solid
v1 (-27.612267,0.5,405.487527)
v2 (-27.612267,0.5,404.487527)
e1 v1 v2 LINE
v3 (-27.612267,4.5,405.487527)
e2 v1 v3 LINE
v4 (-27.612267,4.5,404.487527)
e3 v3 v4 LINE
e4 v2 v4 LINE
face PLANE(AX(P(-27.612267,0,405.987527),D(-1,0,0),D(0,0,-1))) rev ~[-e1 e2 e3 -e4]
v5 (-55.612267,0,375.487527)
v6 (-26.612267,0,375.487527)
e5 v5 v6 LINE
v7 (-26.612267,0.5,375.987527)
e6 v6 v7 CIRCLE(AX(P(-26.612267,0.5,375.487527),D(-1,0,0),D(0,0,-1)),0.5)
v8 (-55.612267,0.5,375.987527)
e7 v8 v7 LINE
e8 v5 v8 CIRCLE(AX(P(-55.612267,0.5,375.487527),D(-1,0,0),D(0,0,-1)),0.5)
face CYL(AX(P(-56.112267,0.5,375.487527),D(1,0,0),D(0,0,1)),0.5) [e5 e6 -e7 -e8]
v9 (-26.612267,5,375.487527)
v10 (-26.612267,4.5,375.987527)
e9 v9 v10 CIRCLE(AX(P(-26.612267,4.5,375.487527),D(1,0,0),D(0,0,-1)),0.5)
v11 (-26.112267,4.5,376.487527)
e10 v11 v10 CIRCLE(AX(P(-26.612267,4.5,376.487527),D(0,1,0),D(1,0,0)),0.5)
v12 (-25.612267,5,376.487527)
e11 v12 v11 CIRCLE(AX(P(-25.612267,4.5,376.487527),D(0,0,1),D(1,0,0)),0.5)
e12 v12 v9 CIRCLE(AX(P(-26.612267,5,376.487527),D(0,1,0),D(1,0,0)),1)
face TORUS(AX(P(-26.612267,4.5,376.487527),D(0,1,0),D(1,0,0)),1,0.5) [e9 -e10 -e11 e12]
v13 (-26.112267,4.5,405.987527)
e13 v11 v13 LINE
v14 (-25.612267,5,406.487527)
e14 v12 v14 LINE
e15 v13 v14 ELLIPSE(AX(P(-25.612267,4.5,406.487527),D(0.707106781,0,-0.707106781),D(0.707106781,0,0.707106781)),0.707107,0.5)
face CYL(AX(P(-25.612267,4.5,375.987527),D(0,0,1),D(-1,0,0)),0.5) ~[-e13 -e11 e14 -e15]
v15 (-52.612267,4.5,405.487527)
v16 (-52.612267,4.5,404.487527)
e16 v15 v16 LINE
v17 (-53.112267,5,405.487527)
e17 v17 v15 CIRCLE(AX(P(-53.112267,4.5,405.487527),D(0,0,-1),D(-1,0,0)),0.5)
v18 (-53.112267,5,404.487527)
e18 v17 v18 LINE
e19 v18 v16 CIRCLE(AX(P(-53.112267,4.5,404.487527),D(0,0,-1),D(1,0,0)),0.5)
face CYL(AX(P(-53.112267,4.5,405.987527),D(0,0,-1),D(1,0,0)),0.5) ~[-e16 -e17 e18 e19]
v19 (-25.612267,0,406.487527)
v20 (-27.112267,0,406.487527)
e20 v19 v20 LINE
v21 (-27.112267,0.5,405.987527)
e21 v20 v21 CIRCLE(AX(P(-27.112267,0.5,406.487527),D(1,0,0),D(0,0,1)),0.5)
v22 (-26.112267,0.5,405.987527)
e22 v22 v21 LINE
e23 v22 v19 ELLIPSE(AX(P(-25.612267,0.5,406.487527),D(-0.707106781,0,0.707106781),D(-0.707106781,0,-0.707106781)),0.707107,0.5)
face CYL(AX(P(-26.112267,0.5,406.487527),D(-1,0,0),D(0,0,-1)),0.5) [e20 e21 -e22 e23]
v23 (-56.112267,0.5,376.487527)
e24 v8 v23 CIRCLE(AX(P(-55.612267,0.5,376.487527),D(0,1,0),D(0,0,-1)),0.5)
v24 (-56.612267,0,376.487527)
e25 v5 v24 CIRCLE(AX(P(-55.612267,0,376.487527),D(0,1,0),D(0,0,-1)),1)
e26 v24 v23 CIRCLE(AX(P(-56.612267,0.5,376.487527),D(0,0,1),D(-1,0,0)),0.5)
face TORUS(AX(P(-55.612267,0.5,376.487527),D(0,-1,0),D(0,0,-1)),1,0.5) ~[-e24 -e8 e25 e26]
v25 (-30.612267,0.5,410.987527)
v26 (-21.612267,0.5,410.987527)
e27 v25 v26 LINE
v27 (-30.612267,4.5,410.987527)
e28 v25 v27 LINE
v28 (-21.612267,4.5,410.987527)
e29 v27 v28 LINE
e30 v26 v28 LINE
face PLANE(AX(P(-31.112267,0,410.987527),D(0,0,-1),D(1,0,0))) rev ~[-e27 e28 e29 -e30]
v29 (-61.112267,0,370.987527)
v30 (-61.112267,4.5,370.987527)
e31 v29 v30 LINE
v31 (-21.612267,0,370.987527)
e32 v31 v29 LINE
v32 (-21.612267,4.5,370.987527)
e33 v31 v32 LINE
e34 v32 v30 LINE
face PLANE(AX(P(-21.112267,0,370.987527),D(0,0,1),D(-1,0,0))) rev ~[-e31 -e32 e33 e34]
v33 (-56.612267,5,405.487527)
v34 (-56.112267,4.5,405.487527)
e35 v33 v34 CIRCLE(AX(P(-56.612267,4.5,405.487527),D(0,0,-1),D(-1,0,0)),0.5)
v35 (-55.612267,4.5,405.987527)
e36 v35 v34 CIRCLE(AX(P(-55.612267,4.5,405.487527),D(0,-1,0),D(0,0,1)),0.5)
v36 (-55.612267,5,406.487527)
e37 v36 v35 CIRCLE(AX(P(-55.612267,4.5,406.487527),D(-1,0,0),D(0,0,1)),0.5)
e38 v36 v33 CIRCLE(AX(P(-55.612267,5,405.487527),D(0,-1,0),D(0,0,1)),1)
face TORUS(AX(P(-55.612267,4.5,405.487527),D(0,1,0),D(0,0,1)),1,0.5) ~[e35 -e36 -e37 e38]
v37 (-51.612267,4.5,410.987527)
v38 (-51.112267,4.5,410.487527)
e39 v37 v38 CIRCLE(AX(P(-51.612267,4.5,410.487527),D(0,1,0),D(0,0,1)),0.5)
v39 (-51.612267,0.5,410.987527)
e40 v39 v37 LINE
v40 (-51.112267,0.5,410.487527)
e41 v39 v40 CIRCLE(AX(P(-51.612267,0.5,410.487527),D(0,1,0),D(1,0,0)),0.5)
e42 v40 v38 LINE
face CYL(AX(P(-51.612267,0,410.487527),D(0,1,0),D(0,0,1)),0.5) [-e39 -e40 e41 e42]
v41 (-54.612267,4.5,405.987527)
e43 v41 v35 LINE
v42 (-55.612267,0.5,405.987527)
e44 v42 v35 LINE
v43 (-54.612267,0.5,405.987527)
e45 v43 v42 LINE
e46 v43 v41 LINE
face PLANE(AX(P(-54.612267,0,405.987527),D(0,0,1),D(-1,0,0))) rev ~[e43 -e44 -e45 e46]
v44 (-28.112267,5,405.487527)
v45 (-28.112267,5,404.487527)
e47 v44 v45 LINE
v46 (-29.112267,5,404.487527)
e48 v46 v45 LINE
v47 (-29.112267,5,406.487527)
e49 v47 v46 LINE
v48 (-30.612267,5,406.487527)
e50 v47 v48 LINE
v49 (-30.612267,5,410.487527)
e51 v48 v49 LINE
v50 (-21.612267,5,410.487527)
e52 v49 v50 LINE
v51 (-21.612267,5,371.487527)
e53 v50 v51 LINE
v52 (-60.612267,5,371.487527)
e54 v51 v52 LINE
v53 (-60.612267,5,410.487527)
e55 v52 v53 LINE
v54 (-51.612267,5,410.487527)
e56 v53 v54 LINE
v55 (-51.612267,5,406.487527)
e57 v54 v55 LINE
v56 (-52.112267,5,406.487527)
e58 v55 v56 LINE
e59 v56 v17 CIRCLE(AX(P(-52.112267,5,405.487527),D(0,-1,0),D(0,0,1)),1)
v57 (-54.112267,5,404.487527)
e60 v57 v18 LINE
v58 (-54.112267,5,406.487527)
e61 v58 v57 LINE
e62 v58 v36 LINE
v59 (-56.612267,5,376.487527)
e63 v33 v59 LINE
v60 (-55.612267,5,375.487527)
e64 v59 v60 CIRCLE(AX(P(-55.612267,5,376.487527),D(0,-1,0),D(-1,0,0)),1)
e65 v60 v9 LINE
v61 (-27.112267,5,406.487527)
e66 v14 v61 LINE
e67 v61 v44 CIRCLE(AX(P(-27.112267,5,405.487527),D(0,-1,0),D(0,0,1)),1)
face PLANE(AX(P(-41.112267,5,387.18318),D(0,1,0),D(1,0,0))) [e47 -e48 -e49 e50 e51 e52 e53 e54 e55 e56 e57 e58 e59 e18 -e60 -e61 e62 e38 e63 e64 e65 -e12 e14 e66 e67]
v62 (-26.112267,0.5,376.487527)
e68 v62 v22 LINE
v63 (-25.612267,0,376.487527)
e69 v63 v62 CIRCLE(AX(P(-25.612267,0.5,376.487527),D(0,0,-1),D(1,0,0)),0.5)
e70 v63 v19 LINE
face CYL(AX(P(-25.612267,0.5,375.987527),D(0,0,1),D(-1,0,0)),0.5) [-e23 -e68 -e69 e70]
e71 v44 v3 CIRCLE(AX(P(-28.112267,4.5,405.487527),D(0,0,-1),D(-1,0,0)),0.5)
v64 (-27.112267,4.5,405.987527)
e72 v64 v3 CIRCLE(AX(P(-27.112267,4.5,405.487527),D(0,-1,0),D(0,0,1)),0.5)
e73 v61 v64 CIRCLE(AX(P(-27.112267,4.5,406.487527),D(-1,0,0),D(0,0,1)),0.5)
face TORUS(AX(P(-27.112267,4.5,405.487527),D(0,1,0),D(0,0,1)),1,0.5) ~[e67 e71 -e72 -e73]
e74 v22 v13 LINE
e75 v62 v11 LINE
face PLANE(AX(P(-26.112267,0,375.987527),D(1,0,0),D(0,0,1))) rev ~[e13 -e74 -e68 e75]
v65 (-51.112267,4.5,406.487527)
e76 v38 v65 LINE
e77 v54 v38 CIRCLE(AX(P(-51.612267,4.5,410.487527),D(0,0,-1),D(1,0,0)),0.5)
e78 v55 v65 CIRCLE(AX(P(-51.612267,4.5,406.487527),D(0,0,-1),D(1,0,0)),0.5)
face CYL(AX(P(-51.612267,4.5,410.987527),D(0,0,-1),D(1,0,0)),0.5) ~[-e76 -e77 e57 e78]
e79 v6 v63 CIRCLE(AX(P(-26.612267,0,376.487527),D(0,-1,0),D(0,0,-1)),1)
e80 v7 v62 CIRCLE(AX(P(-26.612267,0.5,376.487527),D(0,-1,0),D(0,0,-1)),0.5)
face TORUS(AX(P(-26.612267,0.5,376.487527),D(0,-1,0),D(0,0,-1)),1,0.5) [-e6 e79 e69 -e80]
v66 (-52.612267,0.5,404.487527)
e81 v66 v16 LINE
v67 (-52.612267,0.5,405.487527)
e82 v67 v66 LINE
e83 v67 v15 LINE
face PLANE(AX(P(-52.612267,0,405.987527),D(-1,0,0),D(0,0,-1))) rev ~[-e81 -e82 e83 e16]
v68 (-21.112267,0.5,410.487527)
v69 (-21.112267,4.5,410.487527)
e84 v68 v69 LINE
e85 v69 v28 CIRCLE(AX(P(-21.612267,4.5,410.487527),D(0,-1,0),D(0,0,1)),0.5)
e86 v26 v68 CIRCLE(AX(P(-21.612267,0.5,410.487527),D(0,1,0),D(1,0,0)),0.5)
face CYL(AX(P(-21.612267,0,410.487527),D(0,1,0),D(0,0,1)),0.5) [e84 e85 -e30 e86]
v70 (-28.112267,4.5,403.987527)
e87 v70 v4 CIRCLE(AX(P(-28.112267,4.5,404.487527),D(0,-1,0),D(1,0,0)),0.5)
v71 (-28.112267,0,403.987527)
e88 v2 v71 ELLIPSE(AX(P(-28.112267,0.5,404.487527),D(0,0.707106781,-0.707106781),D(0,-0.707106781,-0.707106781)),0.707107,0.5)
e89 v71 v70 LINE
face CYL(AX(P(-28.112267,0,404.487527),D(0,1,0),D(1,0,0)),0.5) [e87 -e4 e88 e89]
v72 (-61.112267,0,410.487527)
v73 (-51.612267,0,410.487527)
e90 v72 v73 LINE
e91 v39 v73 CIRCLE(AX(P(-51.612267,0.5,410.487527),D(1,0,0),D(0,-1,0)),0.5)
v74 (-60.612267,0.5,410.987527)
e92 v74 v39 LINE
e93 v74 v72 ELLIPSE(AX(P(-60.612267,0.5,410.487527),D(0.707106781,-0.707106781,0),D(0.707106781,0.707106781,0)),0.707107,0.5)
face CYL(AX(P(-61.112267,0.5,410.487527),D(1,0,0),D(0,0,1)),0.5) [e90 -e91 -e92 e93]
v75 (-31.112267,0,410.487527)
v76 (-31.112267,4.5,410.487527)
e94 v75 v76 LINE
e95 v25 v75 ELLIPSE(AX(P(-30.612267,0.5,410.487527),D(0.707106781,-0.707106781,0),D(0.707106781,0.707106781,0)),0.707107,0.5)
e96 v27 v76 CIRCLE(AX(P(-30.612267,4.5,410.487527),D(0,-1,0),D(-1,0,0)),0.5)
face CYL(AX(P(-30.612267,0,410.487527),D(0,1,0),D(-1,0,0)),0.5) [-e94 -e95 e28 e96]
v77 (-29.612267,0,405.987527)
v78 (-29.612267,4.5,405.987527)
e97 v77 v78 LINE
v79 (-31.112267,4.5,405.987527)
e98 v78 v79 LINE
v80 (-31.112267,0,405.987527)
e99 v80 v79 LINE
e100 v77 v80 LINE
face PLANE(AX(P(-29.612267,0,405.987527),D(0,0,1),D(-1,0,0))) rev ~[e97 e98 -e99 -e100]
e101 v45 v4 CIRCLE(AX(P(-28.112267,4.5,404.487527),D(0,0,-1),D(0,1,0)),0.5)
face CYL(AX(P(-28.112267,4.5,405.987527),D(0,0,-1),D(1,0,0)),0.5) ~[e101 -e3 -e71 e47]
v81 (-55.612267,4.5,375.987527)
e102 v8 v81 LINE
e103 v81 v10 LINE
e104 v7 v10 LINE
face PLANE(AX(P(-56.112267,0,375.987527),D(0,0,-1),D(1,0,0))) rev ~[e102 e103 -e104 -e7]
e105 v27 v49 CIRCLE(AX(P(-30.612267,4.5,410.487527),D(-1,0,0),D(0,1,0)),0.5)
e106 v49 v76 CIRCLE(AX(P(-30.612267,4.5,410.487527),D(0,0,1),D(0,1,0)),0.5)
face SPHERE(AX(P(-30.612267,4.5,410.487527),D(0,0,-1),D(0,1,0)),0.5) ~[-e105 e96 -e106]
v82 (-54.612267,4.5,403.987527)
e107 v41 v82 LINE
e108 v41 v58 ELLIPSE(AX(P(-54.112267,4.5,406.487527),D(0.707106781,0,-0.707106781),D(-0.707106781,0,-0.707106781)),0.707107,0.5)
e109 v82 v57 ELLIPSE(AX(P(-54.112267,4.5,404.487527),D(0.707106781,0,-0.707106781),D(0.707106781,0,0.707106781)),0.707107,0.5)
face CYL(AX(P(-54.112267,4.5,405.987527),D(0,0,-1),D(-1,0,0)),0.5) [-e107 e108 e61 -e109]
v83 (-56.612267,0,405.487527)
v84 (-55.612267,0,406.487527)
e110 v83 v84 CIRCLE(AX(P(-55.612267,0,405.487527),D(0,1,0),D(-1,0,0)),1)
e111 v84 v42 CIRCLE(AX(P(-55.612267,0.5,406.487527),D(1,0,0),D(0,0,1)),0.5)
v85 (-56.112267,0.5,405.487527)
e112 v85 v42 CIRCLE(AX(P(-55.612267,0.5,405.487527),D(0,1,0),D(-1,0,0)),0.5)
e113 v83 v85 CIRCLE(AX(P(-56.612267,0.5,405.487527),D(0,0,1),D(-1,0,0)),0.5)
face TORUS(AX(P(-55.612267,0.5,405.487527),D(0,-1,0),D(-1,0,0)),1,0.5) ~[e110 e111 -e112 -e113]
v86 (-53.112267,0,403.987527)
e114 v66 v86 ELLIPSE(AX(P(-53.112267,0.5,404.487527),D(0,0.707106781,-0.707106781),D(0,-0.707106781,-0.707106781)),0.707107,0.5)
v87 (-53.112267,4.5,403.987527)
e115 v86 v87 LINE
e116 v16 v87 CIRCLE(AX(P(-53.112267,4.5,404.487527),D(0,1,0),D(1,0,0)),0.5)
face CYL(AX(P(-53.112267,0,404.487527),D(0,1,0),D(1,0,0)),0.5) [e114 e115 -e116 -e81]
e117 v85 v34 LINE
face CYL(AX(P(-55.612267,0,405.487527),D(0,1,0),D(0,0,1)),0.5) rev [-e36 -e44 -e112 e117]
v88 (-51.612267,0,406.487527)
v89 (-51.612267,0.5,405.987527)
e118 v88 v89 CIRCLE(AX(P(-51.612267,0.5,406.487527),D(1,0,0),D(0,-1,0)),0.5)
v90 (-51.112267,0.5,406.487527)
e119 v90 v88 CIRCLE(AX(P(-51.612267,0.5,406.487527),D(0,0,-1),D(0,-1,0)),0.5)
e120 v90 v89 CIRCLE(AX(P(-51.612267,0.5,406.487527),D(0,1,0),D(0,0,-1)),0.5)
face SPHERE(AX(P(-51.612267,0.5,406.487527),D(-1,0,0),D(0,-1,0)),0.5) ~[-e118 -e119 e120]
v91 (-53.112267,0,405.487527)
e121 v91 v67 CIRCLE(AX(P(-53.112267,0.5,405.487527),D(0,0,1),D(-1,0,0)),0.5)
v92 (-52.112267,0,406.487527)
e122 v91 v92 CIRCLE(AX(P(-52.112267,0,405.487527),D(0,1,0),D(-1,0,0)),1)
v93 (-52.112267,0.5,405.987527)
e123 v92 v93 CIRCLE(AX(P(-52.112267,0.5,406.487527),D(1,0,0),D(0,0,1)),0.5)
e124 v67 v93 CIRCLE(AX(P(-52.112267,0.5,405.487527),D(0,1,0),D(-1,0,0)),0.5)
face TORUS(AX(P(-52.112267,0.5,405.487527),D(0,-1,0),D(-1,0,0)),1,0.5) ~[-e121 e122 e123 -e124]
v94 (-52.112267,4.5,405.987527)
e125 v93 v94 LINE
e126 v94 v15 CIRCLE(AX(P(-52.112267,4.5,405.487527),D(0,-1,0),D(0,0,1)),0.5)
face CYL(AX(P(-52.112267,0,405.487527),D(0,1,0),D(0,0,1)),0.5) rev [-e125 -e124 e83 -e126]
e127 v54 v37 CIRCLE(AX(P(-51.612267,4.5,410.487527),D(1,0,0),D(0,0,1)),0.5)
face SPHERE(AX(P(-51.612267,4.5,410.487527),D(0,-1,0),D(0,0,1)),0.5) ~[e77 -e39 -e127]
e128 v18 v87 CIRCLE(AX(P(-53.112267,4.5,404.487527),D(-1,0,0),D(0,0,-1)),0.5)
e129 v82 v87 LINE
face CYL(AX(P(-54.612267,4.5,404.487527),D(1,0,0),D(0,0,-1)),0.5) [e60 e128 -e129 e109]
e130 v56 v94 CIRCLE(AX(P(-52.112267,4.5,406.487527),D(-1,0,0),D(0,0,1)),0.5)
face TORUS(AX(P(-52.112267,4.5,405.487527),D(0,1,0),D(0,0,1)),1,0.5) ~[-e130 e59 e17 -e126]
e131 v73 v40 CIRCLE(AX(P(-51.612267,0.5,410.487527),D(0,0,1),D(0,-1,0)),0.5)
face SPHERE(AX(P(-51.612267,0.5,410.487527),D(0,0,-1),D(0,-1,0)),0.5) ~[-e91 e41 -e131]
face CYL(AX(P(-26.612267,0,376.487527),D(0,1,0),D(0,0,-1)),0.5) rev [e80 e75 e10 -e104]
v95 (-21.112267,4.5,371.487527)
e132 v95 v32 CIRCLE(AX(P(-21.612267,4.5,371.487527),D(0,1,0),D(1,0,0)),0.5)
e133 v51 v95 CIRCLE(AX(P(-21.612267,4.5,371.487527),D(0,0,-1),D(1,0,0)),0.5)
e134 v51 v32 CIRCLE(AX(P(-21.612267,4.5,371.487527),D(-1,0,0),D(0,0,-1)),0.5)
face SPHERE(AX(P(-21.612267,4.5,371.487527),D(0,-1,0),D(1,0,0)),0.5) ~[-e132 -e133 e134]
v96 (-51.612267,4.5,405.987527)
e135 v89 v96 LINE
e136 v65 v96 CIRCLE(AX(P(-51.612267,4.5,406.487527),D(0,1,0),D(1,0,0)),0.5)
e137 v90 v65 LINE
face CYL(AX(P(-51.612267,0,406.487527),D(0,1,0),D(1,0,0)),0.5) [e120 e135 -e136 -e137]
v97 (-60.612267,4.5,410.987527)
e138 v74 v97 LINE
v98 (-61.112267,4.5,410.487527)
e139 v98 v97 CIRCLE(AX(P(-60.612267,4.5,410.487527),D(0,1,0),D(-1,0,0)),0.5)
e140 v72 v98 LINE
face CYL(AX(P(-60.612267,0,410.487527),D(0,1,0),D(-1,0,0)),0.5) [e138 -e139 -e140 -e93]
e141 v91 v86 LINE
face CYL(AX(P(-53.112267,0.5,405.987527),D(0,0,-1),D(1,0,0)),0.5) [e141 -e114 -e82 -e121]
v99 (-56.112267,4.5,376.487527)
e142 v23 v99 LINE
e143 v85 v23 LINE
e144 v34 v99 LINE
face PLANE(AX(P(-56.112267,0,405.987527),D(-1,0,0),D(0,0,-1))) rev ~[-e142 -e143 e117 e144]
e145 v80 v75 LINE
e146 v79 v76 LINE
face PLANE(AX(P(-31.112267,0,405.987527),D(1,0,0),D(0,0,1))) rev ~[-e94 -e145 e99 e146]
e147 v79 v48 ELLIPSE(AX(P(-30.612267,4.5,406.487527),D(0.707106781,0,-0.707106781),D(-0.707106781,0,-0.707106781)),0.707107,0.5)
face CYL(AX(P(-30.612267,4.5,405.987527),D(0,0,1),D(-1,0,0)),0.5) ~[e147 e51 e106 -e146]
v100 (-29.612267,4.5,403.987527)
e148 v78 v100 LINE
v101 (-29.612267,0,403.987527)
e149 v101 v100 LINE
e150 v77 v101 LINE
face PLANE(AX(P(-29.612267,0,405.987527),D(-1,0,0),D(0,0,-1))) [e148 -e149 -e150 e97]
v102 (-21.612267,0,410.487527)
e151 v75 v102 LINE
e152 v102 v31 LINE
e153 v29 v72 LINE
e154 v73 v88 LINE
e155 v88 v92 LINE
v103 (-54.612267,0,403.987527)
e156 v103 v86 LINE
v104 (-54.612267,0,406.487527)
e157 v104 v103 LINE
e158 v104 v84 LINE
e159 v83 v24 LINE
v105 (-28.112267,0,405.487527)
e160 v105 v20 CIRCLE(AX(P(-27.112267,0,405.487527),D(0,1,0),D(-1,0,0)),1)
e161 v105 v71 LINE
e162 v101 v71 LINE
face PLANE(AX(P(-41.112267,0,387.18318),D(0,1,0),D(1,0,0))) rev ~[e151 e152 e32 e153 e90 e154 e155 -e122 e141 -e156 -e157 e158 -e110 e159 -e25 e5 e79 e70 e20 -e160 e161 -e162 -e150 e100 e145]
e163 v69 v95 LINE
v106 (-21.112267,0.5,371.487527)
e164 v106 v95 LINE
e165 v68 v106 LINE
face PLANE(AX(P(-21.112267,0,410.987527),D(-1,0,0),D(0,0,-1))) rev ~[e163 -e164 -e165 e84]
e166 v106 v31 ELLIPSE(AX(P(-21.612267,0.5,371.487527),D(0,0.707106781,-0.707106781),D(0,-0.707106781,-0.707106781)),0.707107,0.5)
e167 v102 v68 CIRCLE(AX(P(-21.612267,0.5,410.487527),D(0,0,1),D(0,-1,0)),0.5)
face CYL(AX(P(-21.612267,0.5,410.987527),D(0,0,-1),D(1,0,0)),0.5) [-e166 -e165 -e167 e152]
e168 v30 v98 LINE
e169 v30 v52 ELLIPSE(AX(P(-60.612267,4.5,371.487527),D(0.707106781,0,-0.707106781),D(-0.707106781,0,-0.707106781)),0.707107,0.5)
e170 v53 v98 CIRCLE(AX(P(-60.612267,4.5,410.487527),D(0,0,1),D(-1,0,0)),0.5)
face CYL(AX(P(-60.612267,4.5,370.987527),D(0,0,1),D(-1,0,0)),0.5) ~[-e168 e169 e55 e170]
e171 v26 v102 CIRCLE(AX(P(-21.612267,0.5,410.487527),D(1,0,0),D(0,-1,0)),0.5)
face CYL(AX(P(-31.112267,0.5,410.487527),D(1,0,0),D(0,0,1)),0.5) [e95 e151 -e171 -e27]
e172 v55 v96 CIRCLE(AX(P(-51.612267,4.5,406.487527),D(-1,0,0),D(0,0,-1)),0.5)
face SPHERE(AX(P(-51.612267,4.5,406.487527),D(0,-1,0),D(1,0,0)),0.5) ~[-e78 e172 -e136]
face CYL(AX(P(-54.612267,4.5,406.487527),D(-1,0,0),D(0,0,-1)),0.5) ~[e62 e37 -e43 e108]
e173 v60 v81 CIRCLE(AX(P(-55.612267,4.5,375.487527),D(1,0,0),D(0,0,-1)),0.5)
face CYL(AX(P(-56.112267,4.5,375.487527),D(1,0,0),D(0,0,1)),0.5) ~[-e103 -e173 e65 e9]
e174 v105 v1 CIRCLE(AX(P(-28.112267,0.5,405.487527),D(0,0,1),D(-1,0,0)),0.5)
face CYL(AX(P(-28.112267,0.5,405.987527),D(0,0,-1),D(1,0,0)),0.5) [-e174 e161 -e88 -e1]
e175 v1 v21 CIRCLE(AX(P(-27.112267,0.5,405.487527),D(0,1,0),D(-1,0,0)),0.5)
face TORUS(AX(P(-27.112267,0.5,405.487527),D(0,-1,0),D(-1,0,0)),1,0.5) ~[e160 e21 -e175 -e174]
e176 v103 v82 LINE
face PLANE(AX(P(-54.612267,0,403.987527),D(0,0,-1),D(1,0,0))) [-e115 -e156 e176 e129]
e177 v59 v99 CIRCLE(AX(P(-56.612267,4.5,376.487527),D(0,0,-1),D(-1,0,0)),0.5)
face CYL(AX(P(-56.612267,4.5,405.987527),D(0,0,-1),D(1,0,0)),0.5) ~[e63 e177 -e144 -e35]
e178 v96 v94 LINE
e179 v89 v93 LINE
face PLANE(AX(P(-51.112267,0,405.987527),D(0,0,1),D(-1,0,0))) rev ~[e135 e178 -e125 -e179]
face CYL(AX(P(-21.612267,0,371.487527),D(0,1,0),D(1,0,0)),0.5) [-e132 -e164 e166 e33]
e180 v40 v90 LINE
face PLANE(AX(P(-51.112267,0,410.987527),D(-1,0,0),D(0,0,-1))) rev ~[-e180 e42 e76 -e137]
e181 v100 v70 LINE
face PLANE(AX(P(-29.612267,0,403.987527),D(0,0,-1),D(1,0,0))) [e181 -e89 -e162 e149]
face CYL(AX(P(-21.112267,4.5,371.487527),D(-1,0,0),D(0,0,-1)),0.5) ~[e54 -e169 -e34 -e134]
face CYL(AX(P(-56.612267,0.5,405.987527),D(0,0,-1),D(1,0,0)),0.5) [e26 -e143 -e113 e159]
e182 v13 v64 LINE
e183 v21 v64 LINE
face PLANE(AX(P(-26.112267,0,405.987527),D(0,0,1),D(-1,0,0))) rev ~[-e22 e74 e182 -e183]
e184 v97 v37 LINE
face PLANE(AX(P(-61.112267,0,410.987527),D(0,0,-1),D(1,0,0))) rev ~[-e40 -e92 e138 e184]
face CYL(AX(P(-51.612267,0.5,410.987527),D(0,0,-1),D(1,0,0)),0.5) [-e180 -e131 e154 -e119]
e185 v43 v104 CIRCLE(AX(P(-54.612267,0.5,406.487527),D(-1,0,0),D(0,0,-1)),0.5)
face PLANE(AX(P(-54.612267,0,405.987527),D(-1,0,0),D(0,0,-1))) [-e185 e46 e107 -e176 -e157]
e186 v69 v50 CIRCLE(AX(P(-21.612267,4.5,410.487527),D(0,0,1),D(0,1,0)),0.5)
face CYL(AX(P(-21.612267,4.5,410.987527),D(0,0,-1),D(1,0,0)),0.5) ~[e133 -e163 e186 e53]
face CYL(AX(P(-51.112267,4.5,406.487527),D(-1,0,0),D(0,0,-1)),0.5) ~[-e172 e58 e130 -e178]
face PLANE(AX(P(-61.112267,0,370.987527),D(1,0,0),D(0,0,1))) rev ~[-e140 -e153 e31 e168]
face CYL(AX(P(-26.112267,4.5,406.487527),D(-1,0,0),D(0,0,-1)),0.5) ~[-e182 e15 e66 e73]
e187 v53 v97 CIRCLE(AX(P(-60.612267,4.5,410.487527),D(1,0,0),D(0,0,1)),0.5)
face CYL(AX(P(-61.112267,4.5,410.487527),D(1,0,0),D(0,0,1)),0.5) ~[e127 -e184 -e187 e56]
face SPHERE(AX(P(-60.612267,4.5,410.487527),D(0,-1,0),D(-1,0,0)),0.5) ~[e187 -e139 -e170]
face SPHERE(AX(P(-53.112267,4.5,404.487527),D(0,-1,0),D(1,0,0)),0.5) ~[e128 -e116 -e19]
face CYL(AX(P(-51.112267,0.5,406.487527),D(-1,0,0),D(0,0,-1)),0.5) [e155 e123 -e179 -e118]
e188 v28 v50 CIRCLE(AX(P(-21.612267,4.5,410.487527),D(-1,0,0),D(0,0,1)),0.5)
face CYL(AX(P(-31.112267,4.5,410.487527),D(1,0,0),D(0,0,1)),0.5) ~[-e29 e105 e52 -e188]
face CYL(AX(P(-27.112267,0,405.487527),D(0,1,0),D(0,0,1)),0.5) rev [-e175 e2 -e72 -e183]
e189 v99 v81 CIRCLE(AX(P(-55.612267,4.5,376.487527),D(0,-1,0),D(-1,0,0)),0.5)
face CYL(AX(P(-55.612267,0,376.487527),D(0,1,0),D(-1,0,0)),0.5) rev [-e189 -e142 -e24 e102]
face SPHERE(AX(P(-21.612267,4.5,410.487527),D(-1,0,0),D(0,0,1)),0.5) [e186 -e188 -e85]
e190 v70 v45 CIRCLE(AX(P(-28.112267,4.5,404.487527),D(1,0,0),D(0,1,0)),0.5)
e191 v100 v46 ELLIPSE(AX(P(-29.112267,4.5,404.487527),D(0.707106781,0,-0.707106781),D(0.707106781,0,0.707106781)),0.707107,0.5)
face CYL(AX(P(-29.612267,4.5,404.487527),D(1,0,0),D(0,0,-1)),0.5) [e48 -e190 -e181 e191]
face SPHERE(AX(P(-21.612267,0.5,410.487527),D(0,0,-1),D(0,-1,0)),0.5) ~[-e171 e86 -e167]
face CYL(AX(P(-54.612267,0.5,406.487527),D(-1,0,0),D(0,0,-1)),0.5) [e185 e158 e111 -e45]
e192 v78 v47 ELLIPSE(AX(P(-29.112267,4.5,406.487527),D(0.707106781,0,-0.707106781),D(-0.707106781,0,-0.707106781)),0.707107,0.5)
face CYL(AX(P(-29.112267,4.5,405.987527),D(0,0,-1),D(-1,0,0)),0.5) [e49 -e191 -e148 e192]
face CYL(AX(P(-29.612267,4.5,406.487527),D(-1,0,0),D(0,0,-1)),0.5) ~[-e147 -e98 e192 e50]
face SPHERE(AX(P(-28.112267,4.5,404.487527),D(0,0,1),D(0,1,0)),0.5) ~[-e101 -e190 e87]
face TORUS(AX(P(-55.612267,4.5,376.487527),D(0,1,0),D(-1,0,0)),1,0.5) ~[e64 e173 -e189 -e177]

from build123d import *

# Parameters (mm, degrees)
SKETCH1_W           = 2
SKETCH1_H           = 2
BOSS_EXTRUDE1_DEPTH = 5
FILLET1_R           = 0.5


with BuildPart() as part:
    # Sketch1 → Boss-Extrude1 (new body)
    with BuildSketch(Plane(origin=(0, 0, 0), x_dir=(1, 0, 0), z_dir=(0, 1, 0))):
        Polygon((-53.419958922, -370.98752745), (-61.112267161, -370.98752745), (-61.112267161, -380.152018312), (-61.112267161, -410.98752745), (-56.112267161, -410.98752745), (-56.112267161, -405.98752745), (-56.112267161, -375.98752745), (-26.112267161, -375.98752745), (-26.112267161, -405.98752745), (-26.112267161, -410.98752745), (-21.112267161, -410.98752745), (-21.112267161, -380.152018312), (-21.112267161, -370.98752745), align=None)
        Polygon((-56.112267161, -405.98752745), (-56.112267161, -410.98752745), (-51.112267161, -410.98752745), (-51.112267161, -405.98752745), (-52.612267161, -405.98752745), (-54.612267161, -405.98752745), align=None)
        Polygon((-31.112267161, -410.98752745), (-26.112267161, -410.98752745), (-26.112267161, -405.98752745), (-27.612267161, -405.98752745), (-29.612267161, -405.98752745), (-31.112267161, -405.98752745), align=None)
        with Locations((-53.612267161, -404.98752745)):
            Rectangle(SKETCH1_W, SKETCH1_H)
        with Locations((-28.612267161, -404.98752745)):
            Rectangle(SKETCH1_W, SKETCH1_H)
    extrude(amount=BOSS_EXTRUDE1_DEPTH)

    # Fillet1
    fillet1_edges = [part.edges().sort_by_distance(p)[0] for p in [
        (-27.612267161, 5, 404.98752745),
        (-28.612267161, 5, 403.98752745),
        (-41.112267161, 0, 375.98752745),
        (-56.112267161, 0, 390.98752745),
        (-55.362267161, 0, 405.98752745),
        (-29.612267161, 5, 404.98752745),
        (-52.612267161, 0, 404.98752745),
        (-51.862267161, 0, 405.98752745),
        (-51.112267161, 0, 408.48752745),
        (-56.112267161, 0, 410.98752745),
        (-30.362267161, 5, 405.98752745),
        (-21.112267161, 0, 390.98752745),
        (-26.112267161, 0, 410.98752745),
        (-31.112267161, 5, 408.48752745),
        (-27.612267161, 0, 404.98752745),
        (-26.862267161, 0, 405.98752745),
        (-26.112267161, 0, 390.98752745),
        (-26.112267161, 5, 410.98752745),
        (-26.112267161, 2.5, 375.98752745),
        (-56.112267161, 2.5, 375.98752745),
        (-56.112267161, 2.5, 405.98752745),
        (-52.612267161, 2.5, 403.98752745),
        (-52.612267161, 2.5, 405.98752745),
        (-51.112267161, 2.5, 405.98752745),
        (-51.112267161, 2.5, 410.98752745),
        (-61.112267161, 2.5, 410.98752745),
        (-21.112267161, 2.5, 370.98752745),
        (-21.112267161, 2.5, 410.98752745),
        (-31.112267161, 2.5, 410.98752745),
        (-27.612267161, 2.5, 403.98752745),
        (-27.612267161, 2.5, 405.98752745),
        (-26.112267161, 5, 390.98752745),
        (-21.112267161, 5, 390.98752745),
        (-41.112267161, 5, 370.98752745),
        (-61.112267161, 5, 390.98752745),
        (-56.112267161, 5, 410.98752745),
        (-51.112267161, 5, 408.48752745),
        (-51.862267161, 5, 405.98752745),
        (-52.612267161, 5, 404.98752745),
        (-53.612267161, 5, 403.98752745),
        (-54.612267161, 5, 404.98752745),
        (-55.362267161, 5, 405.98752745),
        (-56.112267161, 5, 390.98752745),
        (-26.862267161, 5, 405.98752745),
        (-41.112267161, 5, 375.98752745),
    ]]
    fillet(fillet1_edges, radius=FILLET1_R)


solid = part.part
